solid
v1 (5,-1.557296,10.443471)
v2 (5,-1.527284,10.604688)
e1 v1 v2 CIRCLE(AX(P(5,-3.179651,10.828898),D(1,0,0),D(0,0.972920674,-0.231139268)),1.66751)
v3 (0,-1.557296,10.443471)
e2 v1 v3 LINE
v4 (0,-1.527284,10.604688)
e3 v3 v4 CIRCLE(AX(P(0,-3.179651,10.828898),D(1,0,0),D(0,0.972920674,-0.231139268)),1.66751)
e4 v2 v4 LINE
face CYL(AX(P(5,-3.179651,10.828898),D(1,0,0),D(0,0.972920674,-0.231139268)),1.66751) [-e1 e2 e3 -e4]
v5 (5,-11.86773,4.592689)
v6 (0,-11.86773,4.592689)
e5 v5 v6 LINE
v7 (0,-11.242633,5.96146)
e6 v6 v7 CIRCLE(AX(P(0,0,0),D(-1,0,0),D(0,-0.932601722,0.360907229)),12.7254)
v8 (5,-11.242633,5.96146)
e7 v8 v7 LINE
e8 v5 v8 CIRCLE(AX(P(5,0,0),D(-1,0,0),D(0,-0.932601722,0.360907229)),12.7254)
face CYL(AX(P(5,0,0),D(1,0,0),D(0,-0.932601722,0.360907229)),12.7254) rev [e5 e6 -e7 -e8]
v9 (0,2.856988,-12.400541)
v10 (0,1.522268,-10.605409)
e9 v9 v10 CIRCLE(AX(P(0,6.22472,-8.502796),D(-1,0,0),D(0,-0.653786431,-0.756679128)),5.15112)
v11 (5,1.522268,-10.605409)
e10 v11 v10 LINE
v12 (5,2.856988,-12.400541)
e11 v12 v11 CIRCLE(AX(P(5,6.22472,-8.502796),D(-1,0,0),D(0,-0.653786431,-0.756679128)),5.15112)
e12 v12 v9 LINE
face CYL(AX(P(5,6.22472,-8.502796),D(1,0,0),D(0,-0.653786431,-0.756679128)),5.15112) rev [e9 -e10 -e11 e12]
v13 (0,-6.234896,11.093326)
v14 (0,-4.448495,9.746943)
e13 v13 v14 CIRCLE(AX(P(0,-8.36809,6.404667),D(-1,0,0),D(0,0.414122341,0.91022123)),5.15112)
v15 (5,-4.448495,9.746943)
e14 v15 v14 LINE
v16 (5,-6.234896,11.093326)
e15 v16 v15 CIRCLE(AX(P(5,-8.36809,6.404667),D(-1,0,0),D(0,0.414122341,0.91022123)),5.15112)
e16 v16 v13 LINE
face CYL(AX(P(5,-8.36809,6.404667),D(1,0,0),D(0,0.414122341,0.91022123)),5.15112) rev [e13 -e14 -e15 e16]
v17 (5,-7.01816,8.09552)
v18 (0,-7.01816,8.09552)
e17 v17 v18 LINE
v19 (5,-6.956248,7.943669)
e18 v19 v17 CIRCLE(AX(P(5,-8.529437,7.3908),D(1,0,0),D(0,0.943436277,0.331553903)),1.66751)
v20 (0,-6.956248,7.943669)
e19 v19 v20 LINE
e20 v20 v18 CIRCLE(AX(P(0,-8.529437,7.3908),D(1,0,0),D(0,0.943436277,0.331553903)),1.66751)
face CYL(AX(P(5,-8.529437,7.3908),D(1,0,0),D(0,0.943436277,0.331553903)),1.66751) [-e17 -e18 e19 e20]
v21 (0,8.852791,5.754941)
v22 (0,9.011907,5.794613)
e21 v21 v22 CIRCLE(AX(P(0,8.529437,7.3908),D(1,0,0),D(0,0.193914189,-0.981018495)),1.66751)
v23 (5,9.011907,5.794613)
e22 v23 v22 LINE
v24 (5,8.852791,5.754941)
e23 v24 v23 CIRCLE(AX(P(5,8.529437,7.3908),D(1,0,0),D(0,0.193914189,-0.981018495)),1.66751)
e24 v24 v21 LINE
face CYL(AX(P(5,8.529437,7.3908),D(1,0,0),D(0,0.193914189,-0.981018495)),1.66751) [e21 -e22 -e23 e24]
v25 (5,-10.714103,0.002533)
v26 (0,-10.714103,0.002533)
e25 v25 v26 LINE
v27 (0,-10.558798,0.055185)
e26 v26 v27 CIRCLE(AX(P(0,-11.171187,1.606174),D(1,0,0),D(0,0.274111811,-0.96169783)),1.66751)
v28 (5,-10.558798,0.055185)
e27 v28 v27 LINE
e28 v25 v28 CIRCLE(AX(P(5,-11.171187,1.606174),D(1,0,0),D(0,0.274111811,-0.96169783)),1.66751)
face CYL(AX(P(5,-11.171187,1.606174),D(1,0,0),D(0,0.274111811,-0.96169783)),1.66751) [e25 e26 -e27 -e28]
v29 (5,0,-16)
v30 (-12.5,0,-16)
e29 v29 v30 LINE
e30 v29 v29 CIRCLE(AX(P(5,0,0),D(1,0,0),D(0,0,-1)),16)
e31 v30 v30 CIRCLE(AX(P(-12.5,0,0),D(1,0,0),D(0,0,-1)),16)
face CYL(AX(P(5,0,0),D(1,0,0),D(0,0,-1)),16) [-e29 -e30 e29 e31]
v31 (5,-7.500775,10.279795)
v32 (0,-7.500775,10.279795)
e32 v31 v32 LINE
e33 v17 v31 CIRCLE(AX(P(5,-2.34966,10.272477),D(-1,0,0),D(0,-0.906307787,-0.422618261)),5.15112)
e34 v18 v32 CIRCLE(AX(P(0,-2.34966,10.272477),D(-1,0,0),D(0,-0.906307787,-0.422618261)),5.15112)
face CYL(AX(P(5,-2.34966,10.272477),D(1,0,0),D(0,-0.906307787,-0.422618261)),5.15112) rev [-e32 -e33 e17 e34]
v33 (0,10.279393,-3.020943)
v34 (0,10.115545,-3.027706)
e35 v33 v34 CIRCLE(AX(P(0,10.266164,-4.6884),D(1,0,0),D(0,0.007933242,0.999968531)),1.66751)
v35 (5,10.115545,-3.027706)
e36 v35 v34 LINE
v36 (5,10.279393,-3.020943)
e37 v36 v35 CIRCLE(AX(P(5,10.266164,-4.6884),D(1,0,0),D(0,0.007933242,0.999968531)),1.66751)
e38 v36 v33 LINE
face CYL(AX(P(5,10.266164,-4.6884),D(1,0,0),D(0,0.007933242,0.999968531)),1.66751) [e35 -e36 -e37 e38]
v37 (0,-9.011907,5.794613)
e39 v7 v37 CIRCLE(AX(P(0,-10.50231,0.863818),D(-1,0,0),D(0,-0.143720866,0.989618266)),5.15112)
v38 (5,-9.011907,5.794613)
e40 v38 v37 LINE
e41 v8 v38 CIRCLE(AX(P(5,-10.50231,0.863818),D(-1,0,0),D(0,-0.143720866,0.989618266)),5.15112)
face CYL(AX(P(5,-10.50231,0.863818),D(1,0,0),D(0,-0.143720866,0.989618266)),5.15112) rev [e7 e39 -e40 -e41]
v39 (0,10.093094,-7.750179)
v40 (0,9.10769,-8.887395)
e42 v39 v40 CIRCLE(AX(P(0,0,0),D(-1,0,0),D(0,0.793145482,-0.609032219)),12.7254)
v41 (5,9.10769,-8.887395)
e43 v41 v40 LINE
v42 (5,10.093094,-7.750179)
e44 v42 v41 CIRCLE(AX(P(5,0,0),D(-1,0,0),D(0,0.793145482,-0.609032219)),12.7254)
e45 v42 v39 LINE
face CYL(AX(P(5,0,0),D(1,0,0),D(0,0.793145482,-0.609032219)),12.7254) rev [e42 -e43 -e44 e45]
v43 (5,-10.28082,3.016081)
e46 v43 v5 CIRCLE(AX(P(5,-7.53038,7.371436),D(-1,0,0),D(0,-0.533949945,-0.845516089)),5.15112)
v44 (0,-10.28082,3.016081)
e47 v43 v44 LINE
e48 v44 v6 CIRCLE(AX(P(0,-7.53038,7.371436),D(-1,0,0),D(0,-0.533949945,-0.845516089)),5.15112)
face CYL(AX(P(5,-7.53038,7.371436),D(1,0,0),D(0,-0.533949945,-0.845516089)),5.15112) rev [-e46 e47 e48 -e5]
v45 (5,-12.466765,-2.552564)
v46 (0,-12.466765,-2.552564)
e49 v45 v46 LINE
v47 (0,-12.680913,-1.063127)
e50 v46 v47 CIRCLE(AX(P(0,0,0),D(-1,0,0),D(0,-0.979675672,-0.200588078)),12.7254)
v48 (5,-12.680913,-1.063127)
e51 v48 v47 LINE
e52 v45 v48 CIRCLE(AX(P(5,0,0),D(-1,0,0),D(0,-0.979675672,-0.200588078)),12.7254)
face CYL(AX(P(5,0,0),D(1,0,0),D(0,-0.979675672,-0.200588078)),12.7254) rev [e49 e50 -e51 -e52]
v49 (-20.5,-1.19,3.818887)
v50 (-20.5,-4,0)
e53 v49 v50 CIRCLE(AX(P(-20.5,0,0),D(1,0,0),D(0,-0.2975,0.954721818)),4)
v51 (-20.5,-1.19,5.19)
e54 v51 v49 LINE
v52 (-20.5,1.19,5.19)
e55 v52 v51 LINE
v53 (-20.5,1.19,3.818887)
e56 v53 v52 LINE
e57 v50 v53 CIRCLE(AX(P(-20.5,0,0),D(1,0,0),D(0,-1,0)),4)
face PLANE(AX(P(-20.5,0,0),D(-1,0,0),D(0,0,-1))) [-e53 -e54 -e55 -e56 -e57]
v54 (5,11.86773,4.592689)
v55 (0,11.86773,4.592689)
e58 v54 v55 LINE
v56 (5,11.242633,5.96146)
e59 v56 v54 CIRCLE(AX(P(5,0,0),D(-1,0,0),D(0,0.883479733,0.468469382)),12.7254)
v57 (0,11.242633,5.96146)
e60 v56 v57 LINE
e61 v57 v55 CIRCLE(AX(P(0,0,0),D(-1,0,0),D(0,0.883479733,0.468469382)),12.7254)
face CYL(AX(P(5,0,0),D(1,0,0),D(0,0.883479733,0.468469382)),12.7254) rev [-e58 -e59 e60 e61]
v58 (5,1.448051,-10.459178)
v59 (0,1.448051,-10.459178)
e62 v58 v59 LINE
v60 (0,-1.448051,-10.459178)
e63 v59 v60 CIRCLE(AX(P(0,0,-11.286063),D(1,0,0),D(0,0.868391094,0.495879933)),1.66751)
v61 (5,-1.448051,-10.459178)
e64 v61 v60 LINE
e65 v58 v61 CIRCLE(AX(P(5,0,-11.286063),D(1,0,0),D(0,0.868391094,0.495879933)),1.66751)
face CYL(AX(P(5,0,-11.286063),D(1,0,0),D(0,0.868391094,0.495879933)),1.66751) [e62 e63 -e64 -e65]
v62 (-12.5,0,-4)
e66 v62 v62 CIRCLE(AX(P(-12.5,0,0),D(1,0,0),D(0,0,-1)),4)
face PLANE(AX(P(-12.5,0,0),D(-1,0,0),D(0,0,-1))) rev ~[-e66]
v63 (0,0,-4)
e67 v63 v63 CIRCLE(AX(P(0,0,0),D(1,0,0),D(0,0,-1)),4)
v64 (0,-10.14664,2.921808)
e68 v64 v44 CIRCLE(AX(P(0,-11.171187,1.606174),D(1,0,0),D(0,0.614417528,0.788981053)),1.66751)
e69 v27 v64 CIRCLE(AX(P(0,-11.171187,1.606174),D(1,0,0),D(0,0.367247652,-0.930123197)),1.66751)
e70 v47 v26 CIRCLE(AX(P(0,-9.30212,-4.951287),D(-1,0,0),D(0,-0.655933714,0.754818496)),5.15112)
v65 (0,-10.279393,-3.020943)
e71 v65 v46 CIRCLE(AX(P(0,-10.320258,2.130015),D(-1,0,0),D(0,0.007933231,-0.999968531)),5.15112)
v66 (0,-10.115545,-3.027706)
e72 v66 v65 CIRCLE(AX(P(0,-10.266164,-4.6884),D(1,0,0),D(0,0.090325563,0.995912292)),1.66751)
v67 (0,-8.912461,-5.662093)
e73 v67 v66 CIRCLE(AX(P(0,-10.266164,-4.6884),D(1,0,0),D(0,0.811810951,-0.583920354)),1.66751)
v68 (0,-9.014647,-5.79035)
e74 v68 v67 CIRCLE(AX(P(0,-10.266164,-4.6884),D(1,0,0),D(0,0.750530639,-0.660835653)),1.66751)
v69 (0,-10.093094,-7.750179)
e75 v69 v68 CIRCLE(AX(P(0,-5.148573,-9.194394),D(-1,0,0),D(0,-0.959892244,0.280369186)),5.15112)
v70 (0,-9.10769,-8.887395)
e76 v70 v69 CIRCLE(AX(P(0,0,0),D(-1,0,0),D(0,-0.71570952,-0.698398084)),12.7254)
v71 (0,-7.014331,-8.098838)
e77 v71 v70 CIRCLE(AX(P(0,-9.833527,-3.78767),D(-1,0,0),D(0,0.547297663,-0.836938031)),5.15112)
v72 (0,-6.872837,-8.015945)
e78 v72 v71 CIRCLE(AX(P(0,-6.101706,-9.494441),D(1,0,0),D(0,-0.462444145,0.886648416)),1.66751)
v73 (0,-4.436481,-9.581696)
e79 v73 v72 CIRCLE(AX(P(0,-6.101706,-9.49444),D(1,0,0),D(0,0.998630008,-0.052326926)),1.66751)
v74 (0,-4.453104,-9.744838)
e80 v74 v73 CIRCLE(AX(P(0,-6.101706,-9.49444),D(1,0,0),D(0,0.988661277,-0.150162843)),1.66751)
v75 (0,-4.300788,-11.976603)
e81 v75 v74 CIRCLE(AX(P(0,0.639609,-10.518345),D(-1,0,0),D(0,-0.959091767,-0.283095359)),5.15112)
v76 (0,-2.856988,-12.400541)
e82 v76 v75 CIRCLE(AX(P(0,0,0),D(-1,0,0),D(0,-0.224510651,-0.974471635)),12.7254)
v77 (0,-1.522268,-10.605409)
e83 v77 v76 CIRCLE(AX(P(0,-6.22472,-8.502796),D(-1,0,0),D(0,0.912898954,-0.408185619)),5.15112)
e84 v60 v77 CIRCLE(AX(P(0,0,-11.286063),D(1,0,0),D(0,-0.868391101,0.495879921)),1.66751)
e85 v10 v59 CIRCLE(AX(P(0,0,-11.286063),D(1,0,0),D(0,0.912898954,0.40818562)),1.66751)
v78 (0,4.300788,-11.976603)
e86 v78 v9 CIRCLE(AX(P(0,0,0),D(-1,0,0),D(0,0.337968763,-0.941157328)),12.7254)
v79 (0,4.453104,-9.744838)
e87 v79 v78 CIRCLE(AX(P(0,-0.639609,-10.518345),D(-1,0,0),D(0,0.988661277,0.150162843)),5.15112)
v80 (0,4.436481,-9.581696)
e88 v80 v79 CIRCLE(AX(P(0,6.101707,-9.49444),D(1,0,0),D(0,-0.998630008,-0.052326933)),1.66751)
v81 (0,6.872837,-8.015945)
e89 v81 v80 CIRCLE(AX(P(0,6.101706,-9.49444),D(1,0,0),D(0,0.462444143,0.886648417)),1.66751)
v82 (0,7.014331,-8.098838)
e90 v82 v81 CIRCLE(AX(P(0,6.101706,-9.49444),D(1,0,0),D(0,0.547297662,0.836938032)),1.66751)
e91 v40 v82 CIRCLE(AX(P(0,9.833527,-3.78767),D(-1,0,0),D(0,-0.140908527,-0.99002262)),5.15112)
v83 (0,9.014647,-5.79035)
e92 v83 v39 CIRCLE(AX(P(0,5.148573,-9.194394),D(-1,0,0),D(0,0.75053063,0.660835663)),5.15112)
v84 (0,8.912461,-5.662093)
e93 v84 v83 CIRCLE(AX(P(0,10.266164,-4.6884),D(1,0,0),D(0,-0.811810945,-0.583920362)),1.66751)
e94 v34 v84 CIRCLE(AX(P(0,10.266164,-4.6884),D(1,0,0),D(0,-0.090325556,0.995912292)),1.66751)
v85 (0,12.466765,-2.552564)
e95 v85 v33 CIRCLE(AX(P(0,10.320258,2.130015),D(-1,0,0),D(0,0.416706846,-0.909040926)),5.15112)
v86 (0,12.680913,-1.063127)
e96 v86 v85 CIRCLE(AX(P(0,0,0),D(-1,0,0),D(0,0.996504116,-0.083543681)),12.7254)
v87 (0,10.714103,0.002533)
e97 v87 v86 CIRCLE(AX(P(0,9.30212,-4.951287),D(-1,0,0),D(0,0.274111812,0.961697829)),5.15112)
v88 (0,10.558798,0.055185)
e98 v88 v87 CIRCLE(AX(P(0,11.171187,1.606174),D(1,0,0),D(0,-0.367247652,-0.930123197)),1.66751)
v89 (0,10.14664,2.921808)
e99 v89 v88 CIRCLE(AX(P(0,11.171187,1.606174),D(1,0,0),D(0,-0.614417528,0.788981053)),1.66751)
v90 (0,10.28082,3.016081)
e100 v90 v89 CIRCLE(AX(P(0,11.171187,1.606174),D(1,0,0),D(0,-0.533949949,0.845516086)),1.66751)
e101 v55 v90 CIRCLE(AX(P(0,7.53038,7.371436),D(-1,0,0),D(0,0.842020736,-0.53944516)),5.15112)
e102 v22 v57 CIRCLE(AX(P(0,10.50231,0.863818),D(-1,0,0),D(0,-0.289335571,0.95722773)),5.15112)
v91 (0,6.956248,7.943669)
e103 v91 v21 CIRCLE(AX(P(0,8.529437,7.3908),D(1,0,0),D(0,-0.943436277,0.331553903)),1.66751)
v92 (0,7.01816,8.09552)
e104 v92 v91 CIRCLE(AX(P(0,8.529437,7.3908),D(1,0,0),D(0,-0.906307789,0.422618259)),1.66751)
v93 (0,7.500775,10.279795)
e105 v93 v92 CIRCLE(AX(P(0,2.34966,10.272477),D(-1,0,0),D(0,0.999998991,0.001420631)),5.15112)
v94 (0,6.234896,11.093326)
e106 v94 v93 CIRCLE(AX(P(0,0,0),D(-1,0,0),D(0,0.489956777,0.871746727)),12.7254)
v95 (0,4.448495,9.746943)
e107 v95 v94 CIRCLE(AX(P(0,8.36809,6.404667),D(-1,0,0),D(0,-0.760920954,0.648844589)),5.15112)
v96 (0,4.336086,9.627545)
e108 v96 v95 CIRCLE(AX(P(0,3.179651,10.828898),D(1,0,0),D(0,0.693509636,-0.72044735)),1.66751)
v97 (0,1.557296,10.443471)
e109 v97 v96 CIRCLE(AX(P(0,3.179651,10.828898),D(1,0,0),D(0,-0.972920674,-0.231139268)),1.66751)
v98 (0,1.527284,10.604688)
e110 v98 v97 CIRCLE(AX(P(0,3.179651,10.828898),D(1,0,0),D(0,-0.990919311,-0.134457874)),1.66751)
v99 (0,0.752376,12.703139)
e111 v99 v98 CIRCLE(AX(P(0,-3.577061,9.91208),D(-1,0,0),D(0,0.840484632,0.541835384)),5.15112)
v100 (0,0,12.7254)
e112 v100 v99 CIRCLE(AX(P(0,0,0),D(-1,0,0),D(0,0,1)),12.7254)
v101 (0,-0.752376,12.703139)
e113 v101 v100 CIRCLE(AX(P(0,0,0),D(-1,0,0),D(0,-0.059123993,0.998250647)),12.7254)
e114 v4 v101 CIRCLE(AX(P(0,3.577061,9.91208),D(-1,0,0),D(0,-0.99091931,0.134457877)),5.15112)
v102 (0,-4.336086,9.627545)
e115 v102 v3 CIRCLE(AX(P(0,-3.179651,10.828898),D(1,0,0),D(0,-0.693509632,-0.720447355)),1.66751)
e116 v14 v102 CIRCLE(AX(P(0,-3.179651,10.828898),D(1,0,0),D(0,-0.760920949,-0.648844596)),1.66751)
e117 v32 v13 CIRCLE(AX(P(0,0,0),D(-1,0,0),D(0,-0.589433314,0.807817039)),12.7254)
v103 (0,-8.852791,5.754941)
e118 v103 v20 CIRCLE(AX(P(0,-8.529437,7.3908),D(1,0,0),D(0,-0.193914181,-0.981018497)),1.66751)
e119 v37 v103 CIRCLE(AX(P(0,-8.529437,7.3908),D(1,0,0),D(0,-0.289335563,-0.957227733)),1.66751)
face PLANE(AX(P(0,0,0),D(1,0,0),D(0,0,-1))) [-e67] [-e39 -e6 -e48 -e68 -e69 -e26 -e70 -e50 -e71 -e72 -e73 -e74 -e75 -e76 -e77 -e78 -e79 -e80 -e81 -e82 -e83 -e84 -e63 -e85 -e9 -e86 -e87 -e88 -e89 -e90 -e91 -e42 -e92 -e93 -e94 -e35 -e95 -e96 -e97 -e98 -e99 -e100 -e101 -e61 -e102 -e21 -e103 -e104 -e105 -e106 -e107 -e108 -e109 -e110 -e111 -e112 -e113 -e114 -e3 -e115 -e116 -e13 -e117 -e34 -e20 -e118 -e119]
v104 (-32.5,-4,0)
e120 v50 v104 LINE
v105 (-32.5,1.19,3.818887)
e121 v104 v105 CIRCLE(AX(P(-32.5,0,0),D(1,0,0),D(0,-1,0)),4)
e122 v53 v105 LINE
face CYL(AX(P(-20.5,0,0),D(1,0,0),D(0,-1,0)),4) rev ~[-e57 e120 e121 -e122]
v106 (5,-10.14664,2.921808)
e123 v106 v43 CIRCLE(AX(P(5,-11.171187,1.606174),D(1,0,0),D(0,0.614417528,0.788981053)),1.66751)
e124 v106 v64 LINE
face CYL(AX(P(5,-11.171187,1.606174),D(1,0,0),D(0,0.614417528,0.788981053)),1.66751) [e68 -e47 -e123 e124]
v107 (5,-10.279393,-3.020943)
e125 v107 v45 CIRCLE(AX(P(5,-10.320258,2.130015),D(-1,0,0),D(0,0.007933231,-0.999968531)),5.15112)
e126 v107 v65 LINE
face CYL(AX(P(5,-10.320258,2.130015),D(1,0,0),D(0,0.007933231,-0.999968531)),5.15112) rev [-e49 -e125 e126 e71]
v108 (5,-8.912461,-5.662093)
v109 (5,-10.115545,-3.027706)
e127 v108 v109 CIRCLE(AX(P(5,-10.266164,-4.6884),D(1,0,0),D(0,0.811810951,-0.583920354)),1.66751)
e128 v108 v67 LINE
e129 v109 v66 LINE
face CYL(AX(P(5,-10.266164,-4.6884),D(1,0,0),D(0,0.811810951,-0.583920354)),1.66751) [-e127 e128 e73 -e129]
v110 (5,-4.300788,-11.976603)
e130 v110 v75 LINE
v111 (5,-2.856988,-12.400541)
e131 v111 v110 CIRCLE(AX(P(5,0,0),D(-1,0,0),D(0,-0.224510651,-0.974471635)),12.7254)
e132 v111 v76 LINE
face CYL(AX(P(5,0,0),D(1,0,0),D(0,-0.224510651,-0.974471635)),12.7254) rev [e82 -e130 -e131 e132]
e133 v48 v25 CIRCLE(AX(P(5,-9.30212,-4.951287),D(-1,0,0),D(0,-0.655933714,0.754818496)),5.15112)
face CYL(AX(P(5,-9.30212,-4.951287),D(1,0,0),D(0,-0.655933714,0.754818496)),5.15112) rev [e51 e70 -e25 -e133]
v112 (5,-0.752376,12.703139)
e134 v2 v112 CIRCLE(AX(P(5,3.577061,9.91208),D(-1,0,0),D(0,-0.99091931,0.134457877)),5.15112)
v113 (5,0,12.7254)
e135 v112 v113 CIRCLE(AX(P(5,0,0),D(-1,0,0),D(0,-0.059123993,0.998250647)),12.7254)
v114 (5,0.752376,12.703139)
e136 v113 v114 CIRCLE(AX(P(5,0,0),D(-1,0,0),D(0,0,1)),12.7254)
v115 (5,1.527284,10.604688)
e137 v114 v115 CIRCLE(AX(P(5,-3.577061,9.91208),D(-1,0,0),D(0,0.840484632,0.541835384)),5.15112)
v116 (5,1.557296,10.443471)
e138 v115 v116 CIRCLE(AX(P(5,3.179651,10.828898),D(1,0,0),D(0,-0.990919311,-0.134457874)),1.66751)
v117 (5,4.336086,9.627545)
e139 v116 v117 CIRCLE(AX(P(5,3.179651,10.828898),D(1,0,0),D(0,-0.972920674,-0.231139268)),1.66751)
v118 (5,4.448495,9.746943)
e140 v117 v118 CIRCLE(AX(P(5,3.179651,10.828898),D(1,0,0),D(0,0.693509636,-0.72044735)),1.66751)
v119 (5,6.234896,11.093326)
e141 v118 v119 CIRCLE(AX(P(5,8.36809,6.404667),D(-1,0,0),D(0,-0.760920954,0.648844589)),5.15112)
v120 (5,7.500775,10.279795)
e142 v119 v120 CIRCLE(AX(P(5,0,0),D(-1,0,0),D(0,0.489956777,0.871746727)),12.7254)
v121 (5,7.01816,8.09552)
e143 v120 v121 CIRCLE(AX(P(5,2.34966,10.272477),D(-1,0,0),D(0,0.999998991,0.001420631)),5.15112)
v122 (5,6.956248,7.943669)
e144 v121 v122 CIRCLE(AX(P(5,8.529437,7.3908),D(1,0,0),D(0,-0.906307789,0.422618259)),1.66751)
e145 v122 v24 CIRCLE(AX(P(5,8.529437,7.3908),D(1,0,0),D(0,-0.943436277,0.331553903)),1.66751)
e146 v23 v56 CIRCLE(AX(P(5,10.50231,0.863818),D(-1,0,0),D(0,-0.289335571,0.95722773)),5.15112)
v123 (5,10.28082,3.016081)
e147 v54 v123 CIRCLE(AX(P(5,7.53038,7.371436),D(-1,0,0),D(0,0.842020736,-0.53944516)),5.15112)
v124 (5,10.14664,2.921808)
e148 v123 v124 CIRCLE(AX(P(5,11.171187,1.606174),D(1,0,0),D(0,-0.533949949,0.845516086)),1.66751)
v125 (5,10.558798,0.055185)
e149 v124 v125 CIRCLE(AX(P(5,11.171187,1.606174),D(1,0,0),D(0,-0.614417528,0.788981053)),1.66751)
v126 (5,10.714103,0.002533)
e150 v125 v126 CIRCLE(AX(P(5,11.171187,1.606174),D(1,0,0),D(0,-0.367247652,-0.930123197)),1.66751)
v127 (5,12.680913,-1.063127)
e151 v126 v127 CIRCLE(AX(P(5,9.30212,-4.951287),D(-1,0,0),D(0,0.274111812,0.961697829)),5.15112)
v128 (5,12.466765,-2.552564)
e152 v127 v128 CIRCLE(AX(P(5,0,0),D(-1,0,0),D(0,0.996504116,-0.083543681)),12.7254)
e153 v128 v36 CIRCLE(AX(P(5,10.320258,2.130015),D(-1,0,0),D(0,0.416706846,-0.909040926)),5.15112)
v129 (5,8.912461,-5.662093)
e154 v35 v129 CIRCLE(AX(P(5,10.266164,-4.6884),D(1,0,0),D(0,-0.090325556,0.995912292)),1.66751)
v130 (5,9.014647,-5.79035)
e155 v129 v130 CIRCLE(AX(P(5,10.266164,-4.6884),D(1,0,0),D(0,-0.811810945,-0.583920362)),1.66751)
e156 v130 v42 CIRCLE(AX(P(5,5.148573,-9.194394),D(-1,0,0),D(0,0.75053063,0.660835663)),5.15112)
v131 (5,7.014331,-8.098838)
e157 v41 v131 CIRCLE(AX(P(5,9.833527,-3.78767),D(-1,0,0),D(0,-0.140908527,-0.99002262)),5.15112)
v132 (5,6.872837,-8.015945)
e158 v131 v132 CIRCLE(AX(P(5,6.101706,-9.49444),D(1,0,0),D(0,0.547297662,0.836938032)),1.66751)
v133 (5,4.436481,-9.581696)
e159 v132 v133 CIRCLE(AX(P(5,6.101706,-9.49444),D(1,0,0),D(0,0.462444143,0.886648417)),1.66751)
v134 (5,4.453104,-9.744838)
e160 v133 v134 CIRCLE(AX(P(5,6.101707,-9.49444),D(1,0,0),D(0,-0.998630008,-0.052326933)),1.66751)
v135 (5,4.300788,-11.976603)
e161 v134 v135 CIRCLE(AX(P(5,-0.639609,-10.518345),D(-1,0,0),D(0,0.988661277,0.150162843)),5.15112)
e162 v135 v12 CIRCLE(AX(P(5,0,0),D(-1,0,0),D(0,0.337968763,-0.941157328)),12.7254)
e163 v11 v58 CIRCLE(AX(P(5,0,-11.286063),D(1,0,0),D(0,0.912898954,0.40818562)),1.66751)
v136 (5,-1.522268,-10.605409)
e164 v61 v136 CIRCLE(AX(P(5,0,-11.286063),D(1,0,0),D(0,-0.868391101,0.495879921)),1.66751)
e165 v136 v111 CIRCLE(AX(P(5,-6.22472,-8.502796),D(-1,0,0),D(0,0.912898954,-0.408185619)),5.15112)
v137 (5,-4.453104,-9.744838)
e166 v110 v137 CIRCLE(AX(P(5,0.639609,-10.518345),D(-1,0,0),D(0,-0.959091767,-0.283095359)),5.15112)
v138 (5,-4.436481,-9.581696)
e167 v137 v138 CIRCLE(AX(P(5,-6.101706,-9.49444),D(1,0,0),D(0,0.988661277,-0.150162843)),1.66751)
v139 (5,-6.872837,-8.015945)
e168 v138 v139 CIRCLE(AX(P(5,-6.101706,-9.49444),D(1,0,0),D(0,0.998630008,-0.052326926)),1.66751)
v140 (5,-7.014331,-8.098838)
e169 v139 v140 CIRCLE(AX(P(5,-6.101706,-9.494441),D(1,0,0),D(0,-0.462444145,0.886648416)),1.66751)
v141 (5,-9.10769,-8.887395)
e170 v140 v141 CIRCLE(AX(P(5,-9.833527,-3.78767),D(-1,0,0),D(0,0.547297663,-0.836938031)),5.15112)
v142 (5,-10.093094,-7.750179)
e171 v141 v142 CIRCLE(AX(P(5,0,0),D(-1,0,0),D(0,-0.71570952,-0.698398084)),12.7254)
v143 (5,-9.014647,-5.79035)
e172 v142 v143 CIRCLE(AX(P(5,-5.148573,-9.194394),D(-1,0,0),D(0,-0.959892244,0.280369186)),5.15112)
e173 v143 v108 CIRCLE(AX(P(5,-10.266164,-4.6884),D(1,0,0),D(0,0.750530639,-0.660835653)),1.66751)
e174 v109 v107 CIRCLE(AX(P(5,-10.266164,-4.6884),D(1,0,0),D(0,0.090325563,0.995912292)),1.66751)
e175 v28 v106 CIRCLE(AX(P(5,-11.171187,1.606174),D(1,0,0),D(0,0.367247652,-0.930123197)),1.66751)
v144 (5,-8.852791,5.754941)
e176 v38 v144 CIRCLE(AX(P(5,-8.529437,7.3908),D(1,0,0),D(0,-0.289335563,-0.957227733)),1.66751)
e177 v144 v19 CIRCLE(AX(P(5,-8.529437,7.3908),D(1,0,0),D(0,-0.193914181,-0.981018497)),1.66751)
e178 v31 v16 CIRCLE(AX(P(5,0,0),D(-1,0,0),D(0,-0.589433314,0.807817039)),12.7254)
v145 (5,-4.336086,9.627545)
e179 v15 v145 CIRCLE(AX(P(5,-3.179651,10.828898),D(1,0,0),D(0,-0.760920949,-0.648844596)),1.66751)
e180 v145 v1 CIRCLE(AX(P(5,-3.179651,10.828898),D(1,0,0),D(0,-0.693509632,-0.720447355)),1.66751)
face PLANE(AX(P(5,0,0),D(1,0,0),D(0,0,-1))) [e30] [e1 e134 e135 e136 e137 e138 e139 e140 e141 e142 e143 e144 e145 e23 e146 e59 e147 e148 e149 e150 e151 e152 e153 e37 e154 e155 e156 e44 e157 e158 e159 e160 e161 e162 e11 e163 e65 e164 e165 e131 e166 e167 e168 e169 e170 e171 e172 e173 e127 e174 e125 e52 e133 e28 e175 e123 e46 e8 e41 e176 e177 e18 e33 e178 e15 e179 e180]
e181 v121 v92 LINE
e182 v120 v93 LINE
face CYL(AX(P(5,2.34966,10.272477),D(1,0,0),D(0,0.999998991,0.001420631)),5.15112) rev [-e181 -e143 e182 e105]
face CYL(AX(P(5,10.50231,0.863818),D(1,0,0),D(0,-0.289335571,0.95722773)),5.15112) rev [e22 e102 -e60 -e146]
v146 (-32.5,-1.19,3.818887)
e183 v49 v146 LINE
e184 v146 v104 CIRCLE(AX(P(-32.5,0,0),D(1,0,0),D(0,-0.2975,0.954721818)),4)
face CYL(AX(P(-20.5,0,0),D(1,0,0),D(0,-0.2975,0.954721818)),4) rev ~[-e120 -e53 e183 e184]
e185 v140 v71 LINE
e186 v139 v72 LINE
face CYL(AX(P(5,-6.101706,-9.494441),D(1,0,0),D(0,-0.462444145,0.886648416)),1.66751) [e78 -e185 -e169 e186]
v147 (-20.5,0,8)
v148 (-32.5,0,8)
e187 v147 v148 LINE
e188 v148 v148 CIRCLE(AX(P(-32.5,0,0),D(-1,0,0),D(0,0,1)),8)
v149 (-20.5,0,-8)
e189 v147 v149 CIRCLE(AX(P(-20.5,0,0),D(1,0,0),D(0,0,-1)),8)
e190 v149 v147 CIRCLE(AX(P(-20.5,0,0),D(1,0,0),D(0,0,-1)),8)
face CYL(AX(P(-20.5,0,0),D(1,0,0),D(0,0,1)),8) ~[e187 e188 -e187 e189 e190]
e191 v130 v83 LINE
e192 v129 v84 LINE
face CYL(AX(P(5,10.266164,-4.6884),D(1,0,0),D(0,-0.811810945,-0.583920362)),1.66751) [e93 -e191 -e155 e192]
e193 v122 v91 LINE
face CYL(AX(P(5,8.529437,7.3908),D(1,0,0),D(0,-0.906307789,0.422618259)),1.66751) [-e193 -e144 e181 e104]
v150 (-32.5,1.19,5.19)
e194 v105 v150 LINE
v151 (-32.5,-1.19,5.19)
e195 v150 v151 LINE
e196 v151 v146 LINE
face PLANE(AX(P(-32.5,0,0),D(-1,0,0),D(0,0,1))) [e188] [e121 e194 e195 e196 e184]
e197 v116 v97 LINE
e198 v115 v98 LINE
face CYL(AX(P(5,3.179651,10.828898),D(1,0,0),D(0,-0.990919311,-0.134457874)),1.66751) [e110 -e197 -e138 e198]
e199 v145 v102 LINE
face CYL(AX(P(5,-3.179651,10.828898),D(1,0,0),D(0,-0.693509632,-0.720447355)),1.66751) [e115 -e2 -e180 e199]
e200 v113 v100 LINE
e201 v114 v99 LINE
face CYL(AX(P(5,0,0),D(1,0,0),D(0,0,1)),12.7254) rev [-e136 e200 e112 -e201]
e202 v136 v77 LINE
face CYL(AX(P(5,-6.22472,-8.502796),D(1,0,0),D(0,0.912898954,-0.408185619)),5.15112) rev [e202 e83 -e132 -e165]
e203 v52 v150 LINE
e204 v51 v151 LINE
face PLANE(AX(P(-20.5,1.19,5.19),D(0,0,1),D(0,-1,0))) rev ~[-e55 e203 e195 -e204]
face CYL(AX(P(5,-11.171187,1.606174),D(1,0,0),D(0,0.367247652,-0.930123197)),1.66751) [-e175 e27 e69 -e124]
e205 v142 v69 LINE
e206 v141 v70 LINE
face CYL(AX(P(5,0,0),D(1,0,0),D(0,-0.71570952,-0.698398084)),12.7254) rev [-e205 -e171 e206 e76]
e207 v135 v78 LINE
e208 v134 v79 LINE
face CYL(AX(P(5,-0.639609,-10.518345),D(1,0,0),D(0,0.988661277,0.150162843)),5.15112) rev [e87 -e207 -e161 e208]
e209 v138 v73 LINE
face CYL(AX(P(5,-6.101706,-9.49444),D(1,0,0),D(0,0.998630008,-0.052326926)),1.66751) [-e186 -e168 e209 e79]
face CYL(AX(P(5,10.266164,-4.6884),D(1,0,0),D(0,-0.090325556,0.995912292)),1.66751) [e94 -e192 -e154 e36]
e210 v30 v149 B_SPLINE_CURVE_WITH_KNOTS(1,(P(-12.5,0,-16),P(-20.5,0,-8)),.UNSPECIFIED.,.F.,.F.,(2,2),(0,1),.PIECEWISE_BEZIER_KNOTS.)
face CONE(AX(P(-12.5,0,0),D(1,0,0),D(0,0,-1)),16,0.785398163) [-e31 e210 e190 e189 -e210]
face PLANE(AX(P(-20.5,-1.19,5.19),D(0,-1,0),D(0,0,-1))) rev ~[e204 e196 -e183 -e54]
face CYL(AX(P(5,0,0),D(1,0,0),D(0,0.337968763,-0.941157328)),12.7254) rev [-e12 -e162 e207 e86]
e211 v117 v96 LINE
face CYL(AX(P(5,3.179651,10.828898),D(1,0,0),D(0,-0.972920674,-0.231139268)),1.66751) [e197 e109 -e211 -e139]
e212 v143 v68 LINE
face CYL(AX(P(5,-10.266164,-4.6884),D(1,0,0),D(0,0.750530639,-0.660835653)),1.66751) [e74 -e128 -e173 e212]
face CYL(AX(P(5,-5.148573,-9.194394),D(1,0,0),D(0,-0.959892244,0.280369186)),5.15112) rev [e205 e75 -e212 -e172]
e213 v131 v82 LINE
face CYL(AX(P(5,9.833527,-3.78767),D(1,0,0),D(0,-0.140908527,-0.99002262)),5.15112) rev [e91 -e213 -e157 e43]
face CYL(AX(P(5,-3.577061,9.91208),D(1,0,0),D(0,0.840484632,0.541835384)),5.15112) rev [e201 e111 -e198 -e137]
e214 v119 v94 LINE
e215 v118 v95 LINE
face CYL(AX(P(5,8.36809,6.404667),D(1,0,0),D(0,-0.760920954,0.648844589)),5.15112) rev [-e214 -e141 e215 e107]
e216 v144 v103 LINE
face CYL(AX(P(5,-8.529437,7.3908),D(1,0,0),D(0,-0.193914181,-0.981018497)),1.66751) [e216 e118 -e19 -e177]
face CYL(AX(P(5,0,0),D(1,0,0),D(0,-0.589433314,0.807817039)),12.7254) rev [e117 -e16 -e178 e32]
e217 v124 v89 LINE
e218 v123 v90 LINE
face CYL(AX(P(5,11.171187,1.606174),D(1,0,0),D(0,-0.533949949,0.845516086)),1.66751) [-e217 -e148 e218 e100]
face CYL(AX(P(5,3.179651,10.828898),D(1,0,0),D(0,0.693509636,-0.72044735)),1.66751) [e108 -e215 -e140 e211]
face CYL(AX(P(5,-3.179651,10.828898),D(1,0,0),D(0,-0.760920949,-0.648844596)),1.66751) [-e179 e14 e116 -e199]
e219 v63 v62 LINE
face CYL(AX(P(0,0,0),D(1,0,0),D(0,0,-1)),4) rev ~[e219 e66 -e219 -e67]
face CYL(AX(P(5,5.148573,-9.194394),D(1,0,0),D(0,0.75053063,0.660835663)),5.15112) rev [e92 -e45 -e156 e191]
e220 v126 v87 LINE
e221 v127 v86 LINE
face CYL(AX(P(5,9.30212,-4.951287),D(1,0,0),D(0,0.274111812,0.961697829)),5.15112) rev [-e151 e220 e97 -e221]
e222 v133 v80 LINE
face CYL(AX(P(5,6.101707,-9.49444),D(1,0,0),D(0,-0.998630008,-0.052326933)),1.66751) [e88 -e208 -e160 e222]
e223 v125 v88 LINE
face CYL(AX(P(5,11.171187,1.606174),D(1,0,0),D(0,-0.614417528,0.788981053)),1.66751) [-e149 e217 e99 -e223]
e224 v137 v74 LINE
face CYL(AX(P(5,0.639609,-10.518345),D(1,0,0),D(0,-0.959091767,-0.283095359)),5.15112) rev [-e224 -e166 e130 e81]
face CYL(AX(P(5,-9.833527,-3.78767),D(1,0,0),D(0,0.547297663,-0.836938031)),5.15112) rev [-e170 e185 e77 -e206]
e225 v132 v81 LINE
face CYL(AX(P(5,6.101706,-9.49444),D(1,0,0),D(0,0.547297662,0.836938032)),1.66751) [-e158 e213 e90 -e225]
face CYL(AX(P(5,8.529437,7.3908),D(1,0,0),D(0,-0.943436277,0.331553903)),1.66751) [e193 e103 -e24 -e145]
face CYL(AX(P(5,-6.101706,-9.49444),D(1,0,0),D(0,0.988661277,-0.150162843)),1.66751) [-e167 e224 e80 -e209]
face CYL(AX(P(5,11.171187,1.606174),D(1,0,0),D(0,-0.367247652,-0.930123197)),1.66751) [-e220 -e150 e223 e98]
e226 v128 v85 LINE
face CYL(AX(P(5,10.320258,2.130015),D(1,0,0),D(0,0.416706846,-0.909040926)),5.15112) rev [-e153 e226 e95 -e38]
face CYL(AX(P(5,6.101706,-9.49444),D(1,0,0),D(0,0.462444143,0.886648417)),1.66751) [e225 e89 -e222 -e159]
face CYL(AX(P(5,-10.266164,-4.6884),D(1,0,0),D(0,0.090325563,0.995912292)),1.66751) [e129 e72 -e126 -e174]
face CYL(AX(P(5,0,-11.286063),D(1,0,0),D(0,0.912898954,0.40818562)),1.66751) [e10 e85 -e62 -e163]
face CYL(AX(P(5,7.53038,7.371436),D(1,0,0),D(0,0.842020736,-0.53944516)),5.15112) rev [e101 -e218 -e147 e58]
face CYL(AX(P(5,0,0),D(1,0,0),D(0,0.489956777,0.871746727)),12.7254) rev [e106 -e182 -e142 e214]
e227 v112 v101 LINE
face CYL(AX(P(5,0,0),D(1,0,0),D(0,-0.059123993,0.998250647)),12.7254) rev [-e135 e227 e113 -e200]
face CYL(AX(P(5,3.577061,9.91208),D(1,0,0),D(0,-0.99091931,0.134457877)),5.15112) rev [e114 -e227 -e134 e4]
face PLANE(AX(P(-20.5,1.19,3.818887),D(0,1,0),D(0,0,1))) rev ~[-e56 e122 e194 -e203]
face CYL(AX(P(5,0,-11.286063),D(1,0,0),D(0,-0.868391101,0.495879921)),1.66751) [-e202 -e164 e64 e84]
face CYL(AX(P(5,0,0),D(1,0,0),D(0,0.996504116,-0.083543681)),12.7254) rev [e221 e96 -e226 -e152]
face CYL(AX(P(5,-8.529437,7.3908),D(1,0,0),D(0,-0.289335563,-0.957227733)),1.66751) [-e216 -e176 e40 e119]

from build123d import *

# Parameters (mm, degrees)
SKETCH1_R           = 16
SKETCH1_R_2         = 4
BOSS_EXTRUDE1_DEPTH = 12.5
BOSS_EXTRUDE2_START = 5
SKETCH1_3_R         = 16
BOSS_EXTRUDE2_DEPTH = 5
SKETCH2_R           = 16
BOSS_EXTRUDE3_DEPTH = 8
BOSS_EXTRUDE3_TAPER = 45
SKETCH4_R           = 8
BOSS_EXTRUDE4_DEPTH = 12


with BuildPart() as part:
    # Sketch1 → Boss-Extrude1 (new body)
    with BuildSketch(Plane.YZ):
        Circle(SKETCH1_R)
        Circle(SKETCH1_R_2, mode=Mode.SUBTRACT)
    extrude(amount=-BOSS_EXTRUDE1_DEPTH)

    # Sketch1<3> → Boss-Extrude2 (add)
    with BuildSketch(Plane.YZ.offset(BOSS_EXTRUDE2_START)):
        Circle(SKETCH1_3_R)
        with BuildLine():
            ThreePointArc((-4.453103796, -9.74483847), (-4.442785625, -9.66347175), (-4.436480838, -9.581696098))
            ThreePointArc((-4.436480838, -9.581696098), (-5.200182393, -8.091641748), (-6.872836595, -8.015945326))
            ThreePointArc((-6.872836595, -8.015945326), (-6.944603241, -8.055651196), (-7.014330689, -8.098837891))
            ThreePointArc((-7.014330689, -8.098837891), (-8.017688064, -8.608122706), (-9.107689918, -8.887394979))
            ThreePointArc((-9.107689918, -8.887394979), (-9.617215633, -8.333364784), (-10.093093531, -7.750178588))
            ThreePointArc((-10.093093531, -7.750178588), (-9.661540409, -6.711015969), (-9.014646736, -5.790350112))
            ThreePointArc((-9.014646736, -5.790350112), (-8.961976369, -5.727478496), (-8.912461189, -5.662093066))
            ThreePointArc((-8.912461189, -5.662093066), (-8.749343619, -3.995691347), (-10.1155453, -3.027706329))
            ThreePointArc((-10.1155453, -3.027706329), (-10.197385858, -3.022309054), (-10.27939281, -3.02094251))
            ThreePointArc((-10.27939281, -3.02094251), (-11.398810905, -2.906924208), (-12.466764806, -2.552563501))
            ThreePointArc((-12.466764806, -2.552563501), (-12.595873777, -1.811013243), (-12.680913477, -1.06312678))
            ThreePointArc((-12.680913477, -1.06312678), (-11.756054161, -0.422242789), (-10.714103032, 0.002533493))
            ThreePointArc((-10.714103032, 0.002533493), (-10.635802938, 0.026948711), (-10.558798085, 0.055184508))
            ThreePointArc((-10.558798085, 0.055184508), (-9.520650065, 1.368862824), (-10.146639845, 2.921808034))
            ThreePointArc((-10.146639845, 2.921808034), (-10.212570517, 2.970594857), (-10.280820345, 3.016080773))
            ThreePointArc((-10.280820345, 3.016080773), (-11.160891825, 3.717202186), (-11.867729954, 4.592688853))
            ThreePointArc((-11.867729954, 4.592688853), (-11.575430994, 5.286322206), (-11.242632993, 5.961460269))
            ThreePointArc((-11.242632993, 5.961460269), (-10.118103781, 6.000589494), (-9.011907317, 5.794612731))
            ThreePointArc((-9.011907317, 5.794612731), (-8.932837223, 5.772819893), (-8.852791194, 5.75494139))
            ThreePointArc((-8.852791194, 5.75494139), (-7.269217386, 6.298812721), (-6.956247932, 7.943668991))
            ThreePointArc((-6.956247932, 7.943668991), (-6.985336195, 8.020355891), (-7.018160061, 8.095519721))
            ThreePointArc((-7.018160061, 8.095519721), (-7.379468448, 9.161143151), (-7.500774695, 10.279794946))
            ThreePointArc((-7.500774695, 10.279794946), (-6.879870658, 10.705287707), (-6.234895971, 11.093325804))
            ThreePointArc((-6.234895971, 11.093325804), (-5.267726942, 10.518277011), (-4.448494704, 9.74694337))
            ThreePointArc((-4.448494704, 9.74694337), (-4.393758806, 9.685861548), (-4.33608565, 9.627545044))
            ThreePointArc((-4.33608565, 9.627545044), (-2.709859549, 9.228934084), (-1.557296451, 10.443471171))
            ThreePointArc((-1.557296451, 10.443471171), (-1.540306987, 10.523710598), (-1.527283546, 10.604688358))
            ThreePointArc((-1.527283546, 10.604688358), (-1.255115981, 11.696485895), (-0.752376468, 12.703138778))
            ThreePointArc((-0.752376468, 12.703138778), (-0.376352864, 12.719833477), (0, 12.7254))
            ThreePointArc((0, 12.7254), (0.376352864, 12.719833477), (0.752376468, 12.703138778))
            ThreePointArc((0.752376468, 12.703138778), (1.255115981, 11.696485895), (1.527283546, 10.604688358))
            ThreePointArc((1.527283546, 10.604688358), (1.540306987, 10.523710598), (1.557296451, 10.443471171))
            ThreePointArc((1.557296451, 10.443471171), (2.709859549, 9.228934084), (4.33608565, 9.627545044))
            ThreePointArc((4.33608565, 9.627545044), (4.393758806, 9.685861548), (4.448494704, 9.74694337))
            ThreePointArc((4.448494704, 9.74694337), (5.267726942, 10.518277011), (6.234895971, 11.093325804))
            ThreePointArc((6.234895971, 11.093325804), (6.879870658, 10.705287707), (7.500774695, 10.279794946))
            ThreePointArc((7.500774695, 10.279794946), (7.379468448, 9.161143151), (7.018160061, 8.095519721))
            ThreePointArc((7.018160061, 8.095519721), (6.985336195, 8.020355891), (6.956247932, 7.943668991))
            ThreePointArc((6.956247932, 7.943668991), (7.269217386, 6.298812721), (8.852791194, 5.75494139))
            ThreePointArc((8.852791194, 5.75494139), (8.932837223, 5.772819893), (9.011907317, 5.794612731))
            ThreePointArc((9.011907317, 5.794612731), (10.118103781, 6.000589494), (11.242632993, 5.961460269))
            ThreePointArc((11.242632993, 5.961460269), (11.575430994, 5.286322206), (11.867729954, 4.592688853))
            ThreePointArc((11.867729954, 4.592688853), (11.160891825, 3.717202186), (10.280820345, 3.016080773))
            ThreePointArc((10.280820345, 3.016080773), (10.212570517, 2.970594857), (10.146639845, 2.921808034))
            ThreePointArc((10.146639845, 2.921808034), (9.520650065, 1.368862824), (10.558798085, 0.055184508))
            ThreePointArc((10.558798085, 0.055184508), (10.635802938, 0.026948711), (10.714103032, 0.002533493))
            ThreePointArc((10.714103032, 0.002533493), (11.756054161, -0.422242789), (12.680913477, -1.06312678))
            ThreePointArc((12.680913477, -1.06312678), (12.595873777, -1.811013243), (12.466764806, -2.552563501))
            ThreePointArc((12.466764806, -2.552563501), (11.398810905, -2.906924208), (10.27939281, -3.02094251))
            ThreePointArc((10.27939281, -3.02094251), (10.197385858, -3.022309054), (10.1155453, -3.027706329))
            ThreePointArc((10.1155453, -3.027706329), (8.749343619, -3.995691347), (8.912461189, -5.662093066))
            ThreePointArc((8.912461189, -5.662093066), (8.961976369, -5.727478496), (9.014646736, -5.790350112))
            ThreePointArc((9.014646736, -5.790350112), (9.661540409, -6.711015969), (10.093093531, -7.750178588))
            ThreePointArc((10.093093531, -7.750178588), (9.617215633, -8.333364784), (9.107689918, -8.887394979))
            ThreePointArc((9.107689918, -8.887394979), (8.01768807, -8.608122703), (7.014330701, -8.098837886))
            ThreePointArc((7.014330701, -8.098837886), (6.944603253, -8.055651191), (6.872836606, -8.015945321))
            ThreePointArc((6.872836606, -8.015945321), (5.200182396, -8.091641744), (4.436480837, -9.5816961))
            ThreePointArc((4.436480837, -9.5816961), (4.442785625, -9.663471753), (4.453103796, -9.744838473))
            ThreePointArc((4.453103796, -9.744838473), (4.499555842, -10.869089), (4.300787703, -11.976603454))
            ThreePointArc((4.300787703, -11.976603454), (3.585159479, -12.209931886), (2.856987833, -12.400541346))
            ThreePointArc((2.856987833, -12.400541346), (2.091005912, -11.576303066), (1.522268135, -10.605409465))
            ThreePointArc((1.522268135, -10.605409465), (1.486958164, -10.531381002), (1.448050834, -10.459178321))
            ThreePointArc((1.448050834, -10.459178321), (1e-09, -9.618553067), (-1.448050833, -10.459178319))
            ThreePointArc((-1.448050833, -10.459178319), (-1.486958163, -10.531381001), (-1.522268135, -10.605409465))
            ThreePointArc((-1.522268135, -10.605409465), (-2.091005912, -11.576303066), (-2.856987833, -12.400541346))
            ThreePointArc((-2.856987833, -12.400541346), (-3.585159479, -12.209931886), (-4.300787703, -11.976603454))
            ThreePointArc((-4.300787703, -11.976603454), (-4.499555842, -10.869088998), (-4.453103796, -9.74483847))
        make_face(mode=Mode.SUBTRACT)
    extrude(amount=-BOSS_EXTRUDE2_DEPTH)

    # Sketch2 → Boss-Extrude3 (add)
    with BuildSketch(Plane(origin=(-12.5, 0, 0), x_dir=(0, -1, 0), z_dir=(-1, 0, 0))):
        Circle(SKETCH2_R)
    extrude(amount=BOSS_EXTRUDE3_DEPTH, taper=BOSS_EXTRUDE3_TAPER)

    # Sketch4 → Boss-Extrude4 (add)
    with BuildSketch(Plane(origin=(-20.5, 0, 0), x_dir=(0, -1, 0), z_dir=(-1, 0, 0))):
        Circle(SKETCH4_R)
        with BuildLine():
            Line((-1.19, 3.818887272), (-1.19, 5.19))
            Line((-1.19, 5.19), (1.19, 5.19))
            Line((1.19, 5.19), (1.19, 3.818887272))
            ThreePointArc((1.19, 3.818887272), (3.221800739, 2.370653918), (4, 0))
            ThreePointArc((4, 0), (-2.370653918, -3.221800739), (-1.19, 3.818887272))
        make_face(mode=Mode.SUBTRACT)
    extrude(amount=BOSS_EXTRUDE4_DEPTH)


solid = part.part
